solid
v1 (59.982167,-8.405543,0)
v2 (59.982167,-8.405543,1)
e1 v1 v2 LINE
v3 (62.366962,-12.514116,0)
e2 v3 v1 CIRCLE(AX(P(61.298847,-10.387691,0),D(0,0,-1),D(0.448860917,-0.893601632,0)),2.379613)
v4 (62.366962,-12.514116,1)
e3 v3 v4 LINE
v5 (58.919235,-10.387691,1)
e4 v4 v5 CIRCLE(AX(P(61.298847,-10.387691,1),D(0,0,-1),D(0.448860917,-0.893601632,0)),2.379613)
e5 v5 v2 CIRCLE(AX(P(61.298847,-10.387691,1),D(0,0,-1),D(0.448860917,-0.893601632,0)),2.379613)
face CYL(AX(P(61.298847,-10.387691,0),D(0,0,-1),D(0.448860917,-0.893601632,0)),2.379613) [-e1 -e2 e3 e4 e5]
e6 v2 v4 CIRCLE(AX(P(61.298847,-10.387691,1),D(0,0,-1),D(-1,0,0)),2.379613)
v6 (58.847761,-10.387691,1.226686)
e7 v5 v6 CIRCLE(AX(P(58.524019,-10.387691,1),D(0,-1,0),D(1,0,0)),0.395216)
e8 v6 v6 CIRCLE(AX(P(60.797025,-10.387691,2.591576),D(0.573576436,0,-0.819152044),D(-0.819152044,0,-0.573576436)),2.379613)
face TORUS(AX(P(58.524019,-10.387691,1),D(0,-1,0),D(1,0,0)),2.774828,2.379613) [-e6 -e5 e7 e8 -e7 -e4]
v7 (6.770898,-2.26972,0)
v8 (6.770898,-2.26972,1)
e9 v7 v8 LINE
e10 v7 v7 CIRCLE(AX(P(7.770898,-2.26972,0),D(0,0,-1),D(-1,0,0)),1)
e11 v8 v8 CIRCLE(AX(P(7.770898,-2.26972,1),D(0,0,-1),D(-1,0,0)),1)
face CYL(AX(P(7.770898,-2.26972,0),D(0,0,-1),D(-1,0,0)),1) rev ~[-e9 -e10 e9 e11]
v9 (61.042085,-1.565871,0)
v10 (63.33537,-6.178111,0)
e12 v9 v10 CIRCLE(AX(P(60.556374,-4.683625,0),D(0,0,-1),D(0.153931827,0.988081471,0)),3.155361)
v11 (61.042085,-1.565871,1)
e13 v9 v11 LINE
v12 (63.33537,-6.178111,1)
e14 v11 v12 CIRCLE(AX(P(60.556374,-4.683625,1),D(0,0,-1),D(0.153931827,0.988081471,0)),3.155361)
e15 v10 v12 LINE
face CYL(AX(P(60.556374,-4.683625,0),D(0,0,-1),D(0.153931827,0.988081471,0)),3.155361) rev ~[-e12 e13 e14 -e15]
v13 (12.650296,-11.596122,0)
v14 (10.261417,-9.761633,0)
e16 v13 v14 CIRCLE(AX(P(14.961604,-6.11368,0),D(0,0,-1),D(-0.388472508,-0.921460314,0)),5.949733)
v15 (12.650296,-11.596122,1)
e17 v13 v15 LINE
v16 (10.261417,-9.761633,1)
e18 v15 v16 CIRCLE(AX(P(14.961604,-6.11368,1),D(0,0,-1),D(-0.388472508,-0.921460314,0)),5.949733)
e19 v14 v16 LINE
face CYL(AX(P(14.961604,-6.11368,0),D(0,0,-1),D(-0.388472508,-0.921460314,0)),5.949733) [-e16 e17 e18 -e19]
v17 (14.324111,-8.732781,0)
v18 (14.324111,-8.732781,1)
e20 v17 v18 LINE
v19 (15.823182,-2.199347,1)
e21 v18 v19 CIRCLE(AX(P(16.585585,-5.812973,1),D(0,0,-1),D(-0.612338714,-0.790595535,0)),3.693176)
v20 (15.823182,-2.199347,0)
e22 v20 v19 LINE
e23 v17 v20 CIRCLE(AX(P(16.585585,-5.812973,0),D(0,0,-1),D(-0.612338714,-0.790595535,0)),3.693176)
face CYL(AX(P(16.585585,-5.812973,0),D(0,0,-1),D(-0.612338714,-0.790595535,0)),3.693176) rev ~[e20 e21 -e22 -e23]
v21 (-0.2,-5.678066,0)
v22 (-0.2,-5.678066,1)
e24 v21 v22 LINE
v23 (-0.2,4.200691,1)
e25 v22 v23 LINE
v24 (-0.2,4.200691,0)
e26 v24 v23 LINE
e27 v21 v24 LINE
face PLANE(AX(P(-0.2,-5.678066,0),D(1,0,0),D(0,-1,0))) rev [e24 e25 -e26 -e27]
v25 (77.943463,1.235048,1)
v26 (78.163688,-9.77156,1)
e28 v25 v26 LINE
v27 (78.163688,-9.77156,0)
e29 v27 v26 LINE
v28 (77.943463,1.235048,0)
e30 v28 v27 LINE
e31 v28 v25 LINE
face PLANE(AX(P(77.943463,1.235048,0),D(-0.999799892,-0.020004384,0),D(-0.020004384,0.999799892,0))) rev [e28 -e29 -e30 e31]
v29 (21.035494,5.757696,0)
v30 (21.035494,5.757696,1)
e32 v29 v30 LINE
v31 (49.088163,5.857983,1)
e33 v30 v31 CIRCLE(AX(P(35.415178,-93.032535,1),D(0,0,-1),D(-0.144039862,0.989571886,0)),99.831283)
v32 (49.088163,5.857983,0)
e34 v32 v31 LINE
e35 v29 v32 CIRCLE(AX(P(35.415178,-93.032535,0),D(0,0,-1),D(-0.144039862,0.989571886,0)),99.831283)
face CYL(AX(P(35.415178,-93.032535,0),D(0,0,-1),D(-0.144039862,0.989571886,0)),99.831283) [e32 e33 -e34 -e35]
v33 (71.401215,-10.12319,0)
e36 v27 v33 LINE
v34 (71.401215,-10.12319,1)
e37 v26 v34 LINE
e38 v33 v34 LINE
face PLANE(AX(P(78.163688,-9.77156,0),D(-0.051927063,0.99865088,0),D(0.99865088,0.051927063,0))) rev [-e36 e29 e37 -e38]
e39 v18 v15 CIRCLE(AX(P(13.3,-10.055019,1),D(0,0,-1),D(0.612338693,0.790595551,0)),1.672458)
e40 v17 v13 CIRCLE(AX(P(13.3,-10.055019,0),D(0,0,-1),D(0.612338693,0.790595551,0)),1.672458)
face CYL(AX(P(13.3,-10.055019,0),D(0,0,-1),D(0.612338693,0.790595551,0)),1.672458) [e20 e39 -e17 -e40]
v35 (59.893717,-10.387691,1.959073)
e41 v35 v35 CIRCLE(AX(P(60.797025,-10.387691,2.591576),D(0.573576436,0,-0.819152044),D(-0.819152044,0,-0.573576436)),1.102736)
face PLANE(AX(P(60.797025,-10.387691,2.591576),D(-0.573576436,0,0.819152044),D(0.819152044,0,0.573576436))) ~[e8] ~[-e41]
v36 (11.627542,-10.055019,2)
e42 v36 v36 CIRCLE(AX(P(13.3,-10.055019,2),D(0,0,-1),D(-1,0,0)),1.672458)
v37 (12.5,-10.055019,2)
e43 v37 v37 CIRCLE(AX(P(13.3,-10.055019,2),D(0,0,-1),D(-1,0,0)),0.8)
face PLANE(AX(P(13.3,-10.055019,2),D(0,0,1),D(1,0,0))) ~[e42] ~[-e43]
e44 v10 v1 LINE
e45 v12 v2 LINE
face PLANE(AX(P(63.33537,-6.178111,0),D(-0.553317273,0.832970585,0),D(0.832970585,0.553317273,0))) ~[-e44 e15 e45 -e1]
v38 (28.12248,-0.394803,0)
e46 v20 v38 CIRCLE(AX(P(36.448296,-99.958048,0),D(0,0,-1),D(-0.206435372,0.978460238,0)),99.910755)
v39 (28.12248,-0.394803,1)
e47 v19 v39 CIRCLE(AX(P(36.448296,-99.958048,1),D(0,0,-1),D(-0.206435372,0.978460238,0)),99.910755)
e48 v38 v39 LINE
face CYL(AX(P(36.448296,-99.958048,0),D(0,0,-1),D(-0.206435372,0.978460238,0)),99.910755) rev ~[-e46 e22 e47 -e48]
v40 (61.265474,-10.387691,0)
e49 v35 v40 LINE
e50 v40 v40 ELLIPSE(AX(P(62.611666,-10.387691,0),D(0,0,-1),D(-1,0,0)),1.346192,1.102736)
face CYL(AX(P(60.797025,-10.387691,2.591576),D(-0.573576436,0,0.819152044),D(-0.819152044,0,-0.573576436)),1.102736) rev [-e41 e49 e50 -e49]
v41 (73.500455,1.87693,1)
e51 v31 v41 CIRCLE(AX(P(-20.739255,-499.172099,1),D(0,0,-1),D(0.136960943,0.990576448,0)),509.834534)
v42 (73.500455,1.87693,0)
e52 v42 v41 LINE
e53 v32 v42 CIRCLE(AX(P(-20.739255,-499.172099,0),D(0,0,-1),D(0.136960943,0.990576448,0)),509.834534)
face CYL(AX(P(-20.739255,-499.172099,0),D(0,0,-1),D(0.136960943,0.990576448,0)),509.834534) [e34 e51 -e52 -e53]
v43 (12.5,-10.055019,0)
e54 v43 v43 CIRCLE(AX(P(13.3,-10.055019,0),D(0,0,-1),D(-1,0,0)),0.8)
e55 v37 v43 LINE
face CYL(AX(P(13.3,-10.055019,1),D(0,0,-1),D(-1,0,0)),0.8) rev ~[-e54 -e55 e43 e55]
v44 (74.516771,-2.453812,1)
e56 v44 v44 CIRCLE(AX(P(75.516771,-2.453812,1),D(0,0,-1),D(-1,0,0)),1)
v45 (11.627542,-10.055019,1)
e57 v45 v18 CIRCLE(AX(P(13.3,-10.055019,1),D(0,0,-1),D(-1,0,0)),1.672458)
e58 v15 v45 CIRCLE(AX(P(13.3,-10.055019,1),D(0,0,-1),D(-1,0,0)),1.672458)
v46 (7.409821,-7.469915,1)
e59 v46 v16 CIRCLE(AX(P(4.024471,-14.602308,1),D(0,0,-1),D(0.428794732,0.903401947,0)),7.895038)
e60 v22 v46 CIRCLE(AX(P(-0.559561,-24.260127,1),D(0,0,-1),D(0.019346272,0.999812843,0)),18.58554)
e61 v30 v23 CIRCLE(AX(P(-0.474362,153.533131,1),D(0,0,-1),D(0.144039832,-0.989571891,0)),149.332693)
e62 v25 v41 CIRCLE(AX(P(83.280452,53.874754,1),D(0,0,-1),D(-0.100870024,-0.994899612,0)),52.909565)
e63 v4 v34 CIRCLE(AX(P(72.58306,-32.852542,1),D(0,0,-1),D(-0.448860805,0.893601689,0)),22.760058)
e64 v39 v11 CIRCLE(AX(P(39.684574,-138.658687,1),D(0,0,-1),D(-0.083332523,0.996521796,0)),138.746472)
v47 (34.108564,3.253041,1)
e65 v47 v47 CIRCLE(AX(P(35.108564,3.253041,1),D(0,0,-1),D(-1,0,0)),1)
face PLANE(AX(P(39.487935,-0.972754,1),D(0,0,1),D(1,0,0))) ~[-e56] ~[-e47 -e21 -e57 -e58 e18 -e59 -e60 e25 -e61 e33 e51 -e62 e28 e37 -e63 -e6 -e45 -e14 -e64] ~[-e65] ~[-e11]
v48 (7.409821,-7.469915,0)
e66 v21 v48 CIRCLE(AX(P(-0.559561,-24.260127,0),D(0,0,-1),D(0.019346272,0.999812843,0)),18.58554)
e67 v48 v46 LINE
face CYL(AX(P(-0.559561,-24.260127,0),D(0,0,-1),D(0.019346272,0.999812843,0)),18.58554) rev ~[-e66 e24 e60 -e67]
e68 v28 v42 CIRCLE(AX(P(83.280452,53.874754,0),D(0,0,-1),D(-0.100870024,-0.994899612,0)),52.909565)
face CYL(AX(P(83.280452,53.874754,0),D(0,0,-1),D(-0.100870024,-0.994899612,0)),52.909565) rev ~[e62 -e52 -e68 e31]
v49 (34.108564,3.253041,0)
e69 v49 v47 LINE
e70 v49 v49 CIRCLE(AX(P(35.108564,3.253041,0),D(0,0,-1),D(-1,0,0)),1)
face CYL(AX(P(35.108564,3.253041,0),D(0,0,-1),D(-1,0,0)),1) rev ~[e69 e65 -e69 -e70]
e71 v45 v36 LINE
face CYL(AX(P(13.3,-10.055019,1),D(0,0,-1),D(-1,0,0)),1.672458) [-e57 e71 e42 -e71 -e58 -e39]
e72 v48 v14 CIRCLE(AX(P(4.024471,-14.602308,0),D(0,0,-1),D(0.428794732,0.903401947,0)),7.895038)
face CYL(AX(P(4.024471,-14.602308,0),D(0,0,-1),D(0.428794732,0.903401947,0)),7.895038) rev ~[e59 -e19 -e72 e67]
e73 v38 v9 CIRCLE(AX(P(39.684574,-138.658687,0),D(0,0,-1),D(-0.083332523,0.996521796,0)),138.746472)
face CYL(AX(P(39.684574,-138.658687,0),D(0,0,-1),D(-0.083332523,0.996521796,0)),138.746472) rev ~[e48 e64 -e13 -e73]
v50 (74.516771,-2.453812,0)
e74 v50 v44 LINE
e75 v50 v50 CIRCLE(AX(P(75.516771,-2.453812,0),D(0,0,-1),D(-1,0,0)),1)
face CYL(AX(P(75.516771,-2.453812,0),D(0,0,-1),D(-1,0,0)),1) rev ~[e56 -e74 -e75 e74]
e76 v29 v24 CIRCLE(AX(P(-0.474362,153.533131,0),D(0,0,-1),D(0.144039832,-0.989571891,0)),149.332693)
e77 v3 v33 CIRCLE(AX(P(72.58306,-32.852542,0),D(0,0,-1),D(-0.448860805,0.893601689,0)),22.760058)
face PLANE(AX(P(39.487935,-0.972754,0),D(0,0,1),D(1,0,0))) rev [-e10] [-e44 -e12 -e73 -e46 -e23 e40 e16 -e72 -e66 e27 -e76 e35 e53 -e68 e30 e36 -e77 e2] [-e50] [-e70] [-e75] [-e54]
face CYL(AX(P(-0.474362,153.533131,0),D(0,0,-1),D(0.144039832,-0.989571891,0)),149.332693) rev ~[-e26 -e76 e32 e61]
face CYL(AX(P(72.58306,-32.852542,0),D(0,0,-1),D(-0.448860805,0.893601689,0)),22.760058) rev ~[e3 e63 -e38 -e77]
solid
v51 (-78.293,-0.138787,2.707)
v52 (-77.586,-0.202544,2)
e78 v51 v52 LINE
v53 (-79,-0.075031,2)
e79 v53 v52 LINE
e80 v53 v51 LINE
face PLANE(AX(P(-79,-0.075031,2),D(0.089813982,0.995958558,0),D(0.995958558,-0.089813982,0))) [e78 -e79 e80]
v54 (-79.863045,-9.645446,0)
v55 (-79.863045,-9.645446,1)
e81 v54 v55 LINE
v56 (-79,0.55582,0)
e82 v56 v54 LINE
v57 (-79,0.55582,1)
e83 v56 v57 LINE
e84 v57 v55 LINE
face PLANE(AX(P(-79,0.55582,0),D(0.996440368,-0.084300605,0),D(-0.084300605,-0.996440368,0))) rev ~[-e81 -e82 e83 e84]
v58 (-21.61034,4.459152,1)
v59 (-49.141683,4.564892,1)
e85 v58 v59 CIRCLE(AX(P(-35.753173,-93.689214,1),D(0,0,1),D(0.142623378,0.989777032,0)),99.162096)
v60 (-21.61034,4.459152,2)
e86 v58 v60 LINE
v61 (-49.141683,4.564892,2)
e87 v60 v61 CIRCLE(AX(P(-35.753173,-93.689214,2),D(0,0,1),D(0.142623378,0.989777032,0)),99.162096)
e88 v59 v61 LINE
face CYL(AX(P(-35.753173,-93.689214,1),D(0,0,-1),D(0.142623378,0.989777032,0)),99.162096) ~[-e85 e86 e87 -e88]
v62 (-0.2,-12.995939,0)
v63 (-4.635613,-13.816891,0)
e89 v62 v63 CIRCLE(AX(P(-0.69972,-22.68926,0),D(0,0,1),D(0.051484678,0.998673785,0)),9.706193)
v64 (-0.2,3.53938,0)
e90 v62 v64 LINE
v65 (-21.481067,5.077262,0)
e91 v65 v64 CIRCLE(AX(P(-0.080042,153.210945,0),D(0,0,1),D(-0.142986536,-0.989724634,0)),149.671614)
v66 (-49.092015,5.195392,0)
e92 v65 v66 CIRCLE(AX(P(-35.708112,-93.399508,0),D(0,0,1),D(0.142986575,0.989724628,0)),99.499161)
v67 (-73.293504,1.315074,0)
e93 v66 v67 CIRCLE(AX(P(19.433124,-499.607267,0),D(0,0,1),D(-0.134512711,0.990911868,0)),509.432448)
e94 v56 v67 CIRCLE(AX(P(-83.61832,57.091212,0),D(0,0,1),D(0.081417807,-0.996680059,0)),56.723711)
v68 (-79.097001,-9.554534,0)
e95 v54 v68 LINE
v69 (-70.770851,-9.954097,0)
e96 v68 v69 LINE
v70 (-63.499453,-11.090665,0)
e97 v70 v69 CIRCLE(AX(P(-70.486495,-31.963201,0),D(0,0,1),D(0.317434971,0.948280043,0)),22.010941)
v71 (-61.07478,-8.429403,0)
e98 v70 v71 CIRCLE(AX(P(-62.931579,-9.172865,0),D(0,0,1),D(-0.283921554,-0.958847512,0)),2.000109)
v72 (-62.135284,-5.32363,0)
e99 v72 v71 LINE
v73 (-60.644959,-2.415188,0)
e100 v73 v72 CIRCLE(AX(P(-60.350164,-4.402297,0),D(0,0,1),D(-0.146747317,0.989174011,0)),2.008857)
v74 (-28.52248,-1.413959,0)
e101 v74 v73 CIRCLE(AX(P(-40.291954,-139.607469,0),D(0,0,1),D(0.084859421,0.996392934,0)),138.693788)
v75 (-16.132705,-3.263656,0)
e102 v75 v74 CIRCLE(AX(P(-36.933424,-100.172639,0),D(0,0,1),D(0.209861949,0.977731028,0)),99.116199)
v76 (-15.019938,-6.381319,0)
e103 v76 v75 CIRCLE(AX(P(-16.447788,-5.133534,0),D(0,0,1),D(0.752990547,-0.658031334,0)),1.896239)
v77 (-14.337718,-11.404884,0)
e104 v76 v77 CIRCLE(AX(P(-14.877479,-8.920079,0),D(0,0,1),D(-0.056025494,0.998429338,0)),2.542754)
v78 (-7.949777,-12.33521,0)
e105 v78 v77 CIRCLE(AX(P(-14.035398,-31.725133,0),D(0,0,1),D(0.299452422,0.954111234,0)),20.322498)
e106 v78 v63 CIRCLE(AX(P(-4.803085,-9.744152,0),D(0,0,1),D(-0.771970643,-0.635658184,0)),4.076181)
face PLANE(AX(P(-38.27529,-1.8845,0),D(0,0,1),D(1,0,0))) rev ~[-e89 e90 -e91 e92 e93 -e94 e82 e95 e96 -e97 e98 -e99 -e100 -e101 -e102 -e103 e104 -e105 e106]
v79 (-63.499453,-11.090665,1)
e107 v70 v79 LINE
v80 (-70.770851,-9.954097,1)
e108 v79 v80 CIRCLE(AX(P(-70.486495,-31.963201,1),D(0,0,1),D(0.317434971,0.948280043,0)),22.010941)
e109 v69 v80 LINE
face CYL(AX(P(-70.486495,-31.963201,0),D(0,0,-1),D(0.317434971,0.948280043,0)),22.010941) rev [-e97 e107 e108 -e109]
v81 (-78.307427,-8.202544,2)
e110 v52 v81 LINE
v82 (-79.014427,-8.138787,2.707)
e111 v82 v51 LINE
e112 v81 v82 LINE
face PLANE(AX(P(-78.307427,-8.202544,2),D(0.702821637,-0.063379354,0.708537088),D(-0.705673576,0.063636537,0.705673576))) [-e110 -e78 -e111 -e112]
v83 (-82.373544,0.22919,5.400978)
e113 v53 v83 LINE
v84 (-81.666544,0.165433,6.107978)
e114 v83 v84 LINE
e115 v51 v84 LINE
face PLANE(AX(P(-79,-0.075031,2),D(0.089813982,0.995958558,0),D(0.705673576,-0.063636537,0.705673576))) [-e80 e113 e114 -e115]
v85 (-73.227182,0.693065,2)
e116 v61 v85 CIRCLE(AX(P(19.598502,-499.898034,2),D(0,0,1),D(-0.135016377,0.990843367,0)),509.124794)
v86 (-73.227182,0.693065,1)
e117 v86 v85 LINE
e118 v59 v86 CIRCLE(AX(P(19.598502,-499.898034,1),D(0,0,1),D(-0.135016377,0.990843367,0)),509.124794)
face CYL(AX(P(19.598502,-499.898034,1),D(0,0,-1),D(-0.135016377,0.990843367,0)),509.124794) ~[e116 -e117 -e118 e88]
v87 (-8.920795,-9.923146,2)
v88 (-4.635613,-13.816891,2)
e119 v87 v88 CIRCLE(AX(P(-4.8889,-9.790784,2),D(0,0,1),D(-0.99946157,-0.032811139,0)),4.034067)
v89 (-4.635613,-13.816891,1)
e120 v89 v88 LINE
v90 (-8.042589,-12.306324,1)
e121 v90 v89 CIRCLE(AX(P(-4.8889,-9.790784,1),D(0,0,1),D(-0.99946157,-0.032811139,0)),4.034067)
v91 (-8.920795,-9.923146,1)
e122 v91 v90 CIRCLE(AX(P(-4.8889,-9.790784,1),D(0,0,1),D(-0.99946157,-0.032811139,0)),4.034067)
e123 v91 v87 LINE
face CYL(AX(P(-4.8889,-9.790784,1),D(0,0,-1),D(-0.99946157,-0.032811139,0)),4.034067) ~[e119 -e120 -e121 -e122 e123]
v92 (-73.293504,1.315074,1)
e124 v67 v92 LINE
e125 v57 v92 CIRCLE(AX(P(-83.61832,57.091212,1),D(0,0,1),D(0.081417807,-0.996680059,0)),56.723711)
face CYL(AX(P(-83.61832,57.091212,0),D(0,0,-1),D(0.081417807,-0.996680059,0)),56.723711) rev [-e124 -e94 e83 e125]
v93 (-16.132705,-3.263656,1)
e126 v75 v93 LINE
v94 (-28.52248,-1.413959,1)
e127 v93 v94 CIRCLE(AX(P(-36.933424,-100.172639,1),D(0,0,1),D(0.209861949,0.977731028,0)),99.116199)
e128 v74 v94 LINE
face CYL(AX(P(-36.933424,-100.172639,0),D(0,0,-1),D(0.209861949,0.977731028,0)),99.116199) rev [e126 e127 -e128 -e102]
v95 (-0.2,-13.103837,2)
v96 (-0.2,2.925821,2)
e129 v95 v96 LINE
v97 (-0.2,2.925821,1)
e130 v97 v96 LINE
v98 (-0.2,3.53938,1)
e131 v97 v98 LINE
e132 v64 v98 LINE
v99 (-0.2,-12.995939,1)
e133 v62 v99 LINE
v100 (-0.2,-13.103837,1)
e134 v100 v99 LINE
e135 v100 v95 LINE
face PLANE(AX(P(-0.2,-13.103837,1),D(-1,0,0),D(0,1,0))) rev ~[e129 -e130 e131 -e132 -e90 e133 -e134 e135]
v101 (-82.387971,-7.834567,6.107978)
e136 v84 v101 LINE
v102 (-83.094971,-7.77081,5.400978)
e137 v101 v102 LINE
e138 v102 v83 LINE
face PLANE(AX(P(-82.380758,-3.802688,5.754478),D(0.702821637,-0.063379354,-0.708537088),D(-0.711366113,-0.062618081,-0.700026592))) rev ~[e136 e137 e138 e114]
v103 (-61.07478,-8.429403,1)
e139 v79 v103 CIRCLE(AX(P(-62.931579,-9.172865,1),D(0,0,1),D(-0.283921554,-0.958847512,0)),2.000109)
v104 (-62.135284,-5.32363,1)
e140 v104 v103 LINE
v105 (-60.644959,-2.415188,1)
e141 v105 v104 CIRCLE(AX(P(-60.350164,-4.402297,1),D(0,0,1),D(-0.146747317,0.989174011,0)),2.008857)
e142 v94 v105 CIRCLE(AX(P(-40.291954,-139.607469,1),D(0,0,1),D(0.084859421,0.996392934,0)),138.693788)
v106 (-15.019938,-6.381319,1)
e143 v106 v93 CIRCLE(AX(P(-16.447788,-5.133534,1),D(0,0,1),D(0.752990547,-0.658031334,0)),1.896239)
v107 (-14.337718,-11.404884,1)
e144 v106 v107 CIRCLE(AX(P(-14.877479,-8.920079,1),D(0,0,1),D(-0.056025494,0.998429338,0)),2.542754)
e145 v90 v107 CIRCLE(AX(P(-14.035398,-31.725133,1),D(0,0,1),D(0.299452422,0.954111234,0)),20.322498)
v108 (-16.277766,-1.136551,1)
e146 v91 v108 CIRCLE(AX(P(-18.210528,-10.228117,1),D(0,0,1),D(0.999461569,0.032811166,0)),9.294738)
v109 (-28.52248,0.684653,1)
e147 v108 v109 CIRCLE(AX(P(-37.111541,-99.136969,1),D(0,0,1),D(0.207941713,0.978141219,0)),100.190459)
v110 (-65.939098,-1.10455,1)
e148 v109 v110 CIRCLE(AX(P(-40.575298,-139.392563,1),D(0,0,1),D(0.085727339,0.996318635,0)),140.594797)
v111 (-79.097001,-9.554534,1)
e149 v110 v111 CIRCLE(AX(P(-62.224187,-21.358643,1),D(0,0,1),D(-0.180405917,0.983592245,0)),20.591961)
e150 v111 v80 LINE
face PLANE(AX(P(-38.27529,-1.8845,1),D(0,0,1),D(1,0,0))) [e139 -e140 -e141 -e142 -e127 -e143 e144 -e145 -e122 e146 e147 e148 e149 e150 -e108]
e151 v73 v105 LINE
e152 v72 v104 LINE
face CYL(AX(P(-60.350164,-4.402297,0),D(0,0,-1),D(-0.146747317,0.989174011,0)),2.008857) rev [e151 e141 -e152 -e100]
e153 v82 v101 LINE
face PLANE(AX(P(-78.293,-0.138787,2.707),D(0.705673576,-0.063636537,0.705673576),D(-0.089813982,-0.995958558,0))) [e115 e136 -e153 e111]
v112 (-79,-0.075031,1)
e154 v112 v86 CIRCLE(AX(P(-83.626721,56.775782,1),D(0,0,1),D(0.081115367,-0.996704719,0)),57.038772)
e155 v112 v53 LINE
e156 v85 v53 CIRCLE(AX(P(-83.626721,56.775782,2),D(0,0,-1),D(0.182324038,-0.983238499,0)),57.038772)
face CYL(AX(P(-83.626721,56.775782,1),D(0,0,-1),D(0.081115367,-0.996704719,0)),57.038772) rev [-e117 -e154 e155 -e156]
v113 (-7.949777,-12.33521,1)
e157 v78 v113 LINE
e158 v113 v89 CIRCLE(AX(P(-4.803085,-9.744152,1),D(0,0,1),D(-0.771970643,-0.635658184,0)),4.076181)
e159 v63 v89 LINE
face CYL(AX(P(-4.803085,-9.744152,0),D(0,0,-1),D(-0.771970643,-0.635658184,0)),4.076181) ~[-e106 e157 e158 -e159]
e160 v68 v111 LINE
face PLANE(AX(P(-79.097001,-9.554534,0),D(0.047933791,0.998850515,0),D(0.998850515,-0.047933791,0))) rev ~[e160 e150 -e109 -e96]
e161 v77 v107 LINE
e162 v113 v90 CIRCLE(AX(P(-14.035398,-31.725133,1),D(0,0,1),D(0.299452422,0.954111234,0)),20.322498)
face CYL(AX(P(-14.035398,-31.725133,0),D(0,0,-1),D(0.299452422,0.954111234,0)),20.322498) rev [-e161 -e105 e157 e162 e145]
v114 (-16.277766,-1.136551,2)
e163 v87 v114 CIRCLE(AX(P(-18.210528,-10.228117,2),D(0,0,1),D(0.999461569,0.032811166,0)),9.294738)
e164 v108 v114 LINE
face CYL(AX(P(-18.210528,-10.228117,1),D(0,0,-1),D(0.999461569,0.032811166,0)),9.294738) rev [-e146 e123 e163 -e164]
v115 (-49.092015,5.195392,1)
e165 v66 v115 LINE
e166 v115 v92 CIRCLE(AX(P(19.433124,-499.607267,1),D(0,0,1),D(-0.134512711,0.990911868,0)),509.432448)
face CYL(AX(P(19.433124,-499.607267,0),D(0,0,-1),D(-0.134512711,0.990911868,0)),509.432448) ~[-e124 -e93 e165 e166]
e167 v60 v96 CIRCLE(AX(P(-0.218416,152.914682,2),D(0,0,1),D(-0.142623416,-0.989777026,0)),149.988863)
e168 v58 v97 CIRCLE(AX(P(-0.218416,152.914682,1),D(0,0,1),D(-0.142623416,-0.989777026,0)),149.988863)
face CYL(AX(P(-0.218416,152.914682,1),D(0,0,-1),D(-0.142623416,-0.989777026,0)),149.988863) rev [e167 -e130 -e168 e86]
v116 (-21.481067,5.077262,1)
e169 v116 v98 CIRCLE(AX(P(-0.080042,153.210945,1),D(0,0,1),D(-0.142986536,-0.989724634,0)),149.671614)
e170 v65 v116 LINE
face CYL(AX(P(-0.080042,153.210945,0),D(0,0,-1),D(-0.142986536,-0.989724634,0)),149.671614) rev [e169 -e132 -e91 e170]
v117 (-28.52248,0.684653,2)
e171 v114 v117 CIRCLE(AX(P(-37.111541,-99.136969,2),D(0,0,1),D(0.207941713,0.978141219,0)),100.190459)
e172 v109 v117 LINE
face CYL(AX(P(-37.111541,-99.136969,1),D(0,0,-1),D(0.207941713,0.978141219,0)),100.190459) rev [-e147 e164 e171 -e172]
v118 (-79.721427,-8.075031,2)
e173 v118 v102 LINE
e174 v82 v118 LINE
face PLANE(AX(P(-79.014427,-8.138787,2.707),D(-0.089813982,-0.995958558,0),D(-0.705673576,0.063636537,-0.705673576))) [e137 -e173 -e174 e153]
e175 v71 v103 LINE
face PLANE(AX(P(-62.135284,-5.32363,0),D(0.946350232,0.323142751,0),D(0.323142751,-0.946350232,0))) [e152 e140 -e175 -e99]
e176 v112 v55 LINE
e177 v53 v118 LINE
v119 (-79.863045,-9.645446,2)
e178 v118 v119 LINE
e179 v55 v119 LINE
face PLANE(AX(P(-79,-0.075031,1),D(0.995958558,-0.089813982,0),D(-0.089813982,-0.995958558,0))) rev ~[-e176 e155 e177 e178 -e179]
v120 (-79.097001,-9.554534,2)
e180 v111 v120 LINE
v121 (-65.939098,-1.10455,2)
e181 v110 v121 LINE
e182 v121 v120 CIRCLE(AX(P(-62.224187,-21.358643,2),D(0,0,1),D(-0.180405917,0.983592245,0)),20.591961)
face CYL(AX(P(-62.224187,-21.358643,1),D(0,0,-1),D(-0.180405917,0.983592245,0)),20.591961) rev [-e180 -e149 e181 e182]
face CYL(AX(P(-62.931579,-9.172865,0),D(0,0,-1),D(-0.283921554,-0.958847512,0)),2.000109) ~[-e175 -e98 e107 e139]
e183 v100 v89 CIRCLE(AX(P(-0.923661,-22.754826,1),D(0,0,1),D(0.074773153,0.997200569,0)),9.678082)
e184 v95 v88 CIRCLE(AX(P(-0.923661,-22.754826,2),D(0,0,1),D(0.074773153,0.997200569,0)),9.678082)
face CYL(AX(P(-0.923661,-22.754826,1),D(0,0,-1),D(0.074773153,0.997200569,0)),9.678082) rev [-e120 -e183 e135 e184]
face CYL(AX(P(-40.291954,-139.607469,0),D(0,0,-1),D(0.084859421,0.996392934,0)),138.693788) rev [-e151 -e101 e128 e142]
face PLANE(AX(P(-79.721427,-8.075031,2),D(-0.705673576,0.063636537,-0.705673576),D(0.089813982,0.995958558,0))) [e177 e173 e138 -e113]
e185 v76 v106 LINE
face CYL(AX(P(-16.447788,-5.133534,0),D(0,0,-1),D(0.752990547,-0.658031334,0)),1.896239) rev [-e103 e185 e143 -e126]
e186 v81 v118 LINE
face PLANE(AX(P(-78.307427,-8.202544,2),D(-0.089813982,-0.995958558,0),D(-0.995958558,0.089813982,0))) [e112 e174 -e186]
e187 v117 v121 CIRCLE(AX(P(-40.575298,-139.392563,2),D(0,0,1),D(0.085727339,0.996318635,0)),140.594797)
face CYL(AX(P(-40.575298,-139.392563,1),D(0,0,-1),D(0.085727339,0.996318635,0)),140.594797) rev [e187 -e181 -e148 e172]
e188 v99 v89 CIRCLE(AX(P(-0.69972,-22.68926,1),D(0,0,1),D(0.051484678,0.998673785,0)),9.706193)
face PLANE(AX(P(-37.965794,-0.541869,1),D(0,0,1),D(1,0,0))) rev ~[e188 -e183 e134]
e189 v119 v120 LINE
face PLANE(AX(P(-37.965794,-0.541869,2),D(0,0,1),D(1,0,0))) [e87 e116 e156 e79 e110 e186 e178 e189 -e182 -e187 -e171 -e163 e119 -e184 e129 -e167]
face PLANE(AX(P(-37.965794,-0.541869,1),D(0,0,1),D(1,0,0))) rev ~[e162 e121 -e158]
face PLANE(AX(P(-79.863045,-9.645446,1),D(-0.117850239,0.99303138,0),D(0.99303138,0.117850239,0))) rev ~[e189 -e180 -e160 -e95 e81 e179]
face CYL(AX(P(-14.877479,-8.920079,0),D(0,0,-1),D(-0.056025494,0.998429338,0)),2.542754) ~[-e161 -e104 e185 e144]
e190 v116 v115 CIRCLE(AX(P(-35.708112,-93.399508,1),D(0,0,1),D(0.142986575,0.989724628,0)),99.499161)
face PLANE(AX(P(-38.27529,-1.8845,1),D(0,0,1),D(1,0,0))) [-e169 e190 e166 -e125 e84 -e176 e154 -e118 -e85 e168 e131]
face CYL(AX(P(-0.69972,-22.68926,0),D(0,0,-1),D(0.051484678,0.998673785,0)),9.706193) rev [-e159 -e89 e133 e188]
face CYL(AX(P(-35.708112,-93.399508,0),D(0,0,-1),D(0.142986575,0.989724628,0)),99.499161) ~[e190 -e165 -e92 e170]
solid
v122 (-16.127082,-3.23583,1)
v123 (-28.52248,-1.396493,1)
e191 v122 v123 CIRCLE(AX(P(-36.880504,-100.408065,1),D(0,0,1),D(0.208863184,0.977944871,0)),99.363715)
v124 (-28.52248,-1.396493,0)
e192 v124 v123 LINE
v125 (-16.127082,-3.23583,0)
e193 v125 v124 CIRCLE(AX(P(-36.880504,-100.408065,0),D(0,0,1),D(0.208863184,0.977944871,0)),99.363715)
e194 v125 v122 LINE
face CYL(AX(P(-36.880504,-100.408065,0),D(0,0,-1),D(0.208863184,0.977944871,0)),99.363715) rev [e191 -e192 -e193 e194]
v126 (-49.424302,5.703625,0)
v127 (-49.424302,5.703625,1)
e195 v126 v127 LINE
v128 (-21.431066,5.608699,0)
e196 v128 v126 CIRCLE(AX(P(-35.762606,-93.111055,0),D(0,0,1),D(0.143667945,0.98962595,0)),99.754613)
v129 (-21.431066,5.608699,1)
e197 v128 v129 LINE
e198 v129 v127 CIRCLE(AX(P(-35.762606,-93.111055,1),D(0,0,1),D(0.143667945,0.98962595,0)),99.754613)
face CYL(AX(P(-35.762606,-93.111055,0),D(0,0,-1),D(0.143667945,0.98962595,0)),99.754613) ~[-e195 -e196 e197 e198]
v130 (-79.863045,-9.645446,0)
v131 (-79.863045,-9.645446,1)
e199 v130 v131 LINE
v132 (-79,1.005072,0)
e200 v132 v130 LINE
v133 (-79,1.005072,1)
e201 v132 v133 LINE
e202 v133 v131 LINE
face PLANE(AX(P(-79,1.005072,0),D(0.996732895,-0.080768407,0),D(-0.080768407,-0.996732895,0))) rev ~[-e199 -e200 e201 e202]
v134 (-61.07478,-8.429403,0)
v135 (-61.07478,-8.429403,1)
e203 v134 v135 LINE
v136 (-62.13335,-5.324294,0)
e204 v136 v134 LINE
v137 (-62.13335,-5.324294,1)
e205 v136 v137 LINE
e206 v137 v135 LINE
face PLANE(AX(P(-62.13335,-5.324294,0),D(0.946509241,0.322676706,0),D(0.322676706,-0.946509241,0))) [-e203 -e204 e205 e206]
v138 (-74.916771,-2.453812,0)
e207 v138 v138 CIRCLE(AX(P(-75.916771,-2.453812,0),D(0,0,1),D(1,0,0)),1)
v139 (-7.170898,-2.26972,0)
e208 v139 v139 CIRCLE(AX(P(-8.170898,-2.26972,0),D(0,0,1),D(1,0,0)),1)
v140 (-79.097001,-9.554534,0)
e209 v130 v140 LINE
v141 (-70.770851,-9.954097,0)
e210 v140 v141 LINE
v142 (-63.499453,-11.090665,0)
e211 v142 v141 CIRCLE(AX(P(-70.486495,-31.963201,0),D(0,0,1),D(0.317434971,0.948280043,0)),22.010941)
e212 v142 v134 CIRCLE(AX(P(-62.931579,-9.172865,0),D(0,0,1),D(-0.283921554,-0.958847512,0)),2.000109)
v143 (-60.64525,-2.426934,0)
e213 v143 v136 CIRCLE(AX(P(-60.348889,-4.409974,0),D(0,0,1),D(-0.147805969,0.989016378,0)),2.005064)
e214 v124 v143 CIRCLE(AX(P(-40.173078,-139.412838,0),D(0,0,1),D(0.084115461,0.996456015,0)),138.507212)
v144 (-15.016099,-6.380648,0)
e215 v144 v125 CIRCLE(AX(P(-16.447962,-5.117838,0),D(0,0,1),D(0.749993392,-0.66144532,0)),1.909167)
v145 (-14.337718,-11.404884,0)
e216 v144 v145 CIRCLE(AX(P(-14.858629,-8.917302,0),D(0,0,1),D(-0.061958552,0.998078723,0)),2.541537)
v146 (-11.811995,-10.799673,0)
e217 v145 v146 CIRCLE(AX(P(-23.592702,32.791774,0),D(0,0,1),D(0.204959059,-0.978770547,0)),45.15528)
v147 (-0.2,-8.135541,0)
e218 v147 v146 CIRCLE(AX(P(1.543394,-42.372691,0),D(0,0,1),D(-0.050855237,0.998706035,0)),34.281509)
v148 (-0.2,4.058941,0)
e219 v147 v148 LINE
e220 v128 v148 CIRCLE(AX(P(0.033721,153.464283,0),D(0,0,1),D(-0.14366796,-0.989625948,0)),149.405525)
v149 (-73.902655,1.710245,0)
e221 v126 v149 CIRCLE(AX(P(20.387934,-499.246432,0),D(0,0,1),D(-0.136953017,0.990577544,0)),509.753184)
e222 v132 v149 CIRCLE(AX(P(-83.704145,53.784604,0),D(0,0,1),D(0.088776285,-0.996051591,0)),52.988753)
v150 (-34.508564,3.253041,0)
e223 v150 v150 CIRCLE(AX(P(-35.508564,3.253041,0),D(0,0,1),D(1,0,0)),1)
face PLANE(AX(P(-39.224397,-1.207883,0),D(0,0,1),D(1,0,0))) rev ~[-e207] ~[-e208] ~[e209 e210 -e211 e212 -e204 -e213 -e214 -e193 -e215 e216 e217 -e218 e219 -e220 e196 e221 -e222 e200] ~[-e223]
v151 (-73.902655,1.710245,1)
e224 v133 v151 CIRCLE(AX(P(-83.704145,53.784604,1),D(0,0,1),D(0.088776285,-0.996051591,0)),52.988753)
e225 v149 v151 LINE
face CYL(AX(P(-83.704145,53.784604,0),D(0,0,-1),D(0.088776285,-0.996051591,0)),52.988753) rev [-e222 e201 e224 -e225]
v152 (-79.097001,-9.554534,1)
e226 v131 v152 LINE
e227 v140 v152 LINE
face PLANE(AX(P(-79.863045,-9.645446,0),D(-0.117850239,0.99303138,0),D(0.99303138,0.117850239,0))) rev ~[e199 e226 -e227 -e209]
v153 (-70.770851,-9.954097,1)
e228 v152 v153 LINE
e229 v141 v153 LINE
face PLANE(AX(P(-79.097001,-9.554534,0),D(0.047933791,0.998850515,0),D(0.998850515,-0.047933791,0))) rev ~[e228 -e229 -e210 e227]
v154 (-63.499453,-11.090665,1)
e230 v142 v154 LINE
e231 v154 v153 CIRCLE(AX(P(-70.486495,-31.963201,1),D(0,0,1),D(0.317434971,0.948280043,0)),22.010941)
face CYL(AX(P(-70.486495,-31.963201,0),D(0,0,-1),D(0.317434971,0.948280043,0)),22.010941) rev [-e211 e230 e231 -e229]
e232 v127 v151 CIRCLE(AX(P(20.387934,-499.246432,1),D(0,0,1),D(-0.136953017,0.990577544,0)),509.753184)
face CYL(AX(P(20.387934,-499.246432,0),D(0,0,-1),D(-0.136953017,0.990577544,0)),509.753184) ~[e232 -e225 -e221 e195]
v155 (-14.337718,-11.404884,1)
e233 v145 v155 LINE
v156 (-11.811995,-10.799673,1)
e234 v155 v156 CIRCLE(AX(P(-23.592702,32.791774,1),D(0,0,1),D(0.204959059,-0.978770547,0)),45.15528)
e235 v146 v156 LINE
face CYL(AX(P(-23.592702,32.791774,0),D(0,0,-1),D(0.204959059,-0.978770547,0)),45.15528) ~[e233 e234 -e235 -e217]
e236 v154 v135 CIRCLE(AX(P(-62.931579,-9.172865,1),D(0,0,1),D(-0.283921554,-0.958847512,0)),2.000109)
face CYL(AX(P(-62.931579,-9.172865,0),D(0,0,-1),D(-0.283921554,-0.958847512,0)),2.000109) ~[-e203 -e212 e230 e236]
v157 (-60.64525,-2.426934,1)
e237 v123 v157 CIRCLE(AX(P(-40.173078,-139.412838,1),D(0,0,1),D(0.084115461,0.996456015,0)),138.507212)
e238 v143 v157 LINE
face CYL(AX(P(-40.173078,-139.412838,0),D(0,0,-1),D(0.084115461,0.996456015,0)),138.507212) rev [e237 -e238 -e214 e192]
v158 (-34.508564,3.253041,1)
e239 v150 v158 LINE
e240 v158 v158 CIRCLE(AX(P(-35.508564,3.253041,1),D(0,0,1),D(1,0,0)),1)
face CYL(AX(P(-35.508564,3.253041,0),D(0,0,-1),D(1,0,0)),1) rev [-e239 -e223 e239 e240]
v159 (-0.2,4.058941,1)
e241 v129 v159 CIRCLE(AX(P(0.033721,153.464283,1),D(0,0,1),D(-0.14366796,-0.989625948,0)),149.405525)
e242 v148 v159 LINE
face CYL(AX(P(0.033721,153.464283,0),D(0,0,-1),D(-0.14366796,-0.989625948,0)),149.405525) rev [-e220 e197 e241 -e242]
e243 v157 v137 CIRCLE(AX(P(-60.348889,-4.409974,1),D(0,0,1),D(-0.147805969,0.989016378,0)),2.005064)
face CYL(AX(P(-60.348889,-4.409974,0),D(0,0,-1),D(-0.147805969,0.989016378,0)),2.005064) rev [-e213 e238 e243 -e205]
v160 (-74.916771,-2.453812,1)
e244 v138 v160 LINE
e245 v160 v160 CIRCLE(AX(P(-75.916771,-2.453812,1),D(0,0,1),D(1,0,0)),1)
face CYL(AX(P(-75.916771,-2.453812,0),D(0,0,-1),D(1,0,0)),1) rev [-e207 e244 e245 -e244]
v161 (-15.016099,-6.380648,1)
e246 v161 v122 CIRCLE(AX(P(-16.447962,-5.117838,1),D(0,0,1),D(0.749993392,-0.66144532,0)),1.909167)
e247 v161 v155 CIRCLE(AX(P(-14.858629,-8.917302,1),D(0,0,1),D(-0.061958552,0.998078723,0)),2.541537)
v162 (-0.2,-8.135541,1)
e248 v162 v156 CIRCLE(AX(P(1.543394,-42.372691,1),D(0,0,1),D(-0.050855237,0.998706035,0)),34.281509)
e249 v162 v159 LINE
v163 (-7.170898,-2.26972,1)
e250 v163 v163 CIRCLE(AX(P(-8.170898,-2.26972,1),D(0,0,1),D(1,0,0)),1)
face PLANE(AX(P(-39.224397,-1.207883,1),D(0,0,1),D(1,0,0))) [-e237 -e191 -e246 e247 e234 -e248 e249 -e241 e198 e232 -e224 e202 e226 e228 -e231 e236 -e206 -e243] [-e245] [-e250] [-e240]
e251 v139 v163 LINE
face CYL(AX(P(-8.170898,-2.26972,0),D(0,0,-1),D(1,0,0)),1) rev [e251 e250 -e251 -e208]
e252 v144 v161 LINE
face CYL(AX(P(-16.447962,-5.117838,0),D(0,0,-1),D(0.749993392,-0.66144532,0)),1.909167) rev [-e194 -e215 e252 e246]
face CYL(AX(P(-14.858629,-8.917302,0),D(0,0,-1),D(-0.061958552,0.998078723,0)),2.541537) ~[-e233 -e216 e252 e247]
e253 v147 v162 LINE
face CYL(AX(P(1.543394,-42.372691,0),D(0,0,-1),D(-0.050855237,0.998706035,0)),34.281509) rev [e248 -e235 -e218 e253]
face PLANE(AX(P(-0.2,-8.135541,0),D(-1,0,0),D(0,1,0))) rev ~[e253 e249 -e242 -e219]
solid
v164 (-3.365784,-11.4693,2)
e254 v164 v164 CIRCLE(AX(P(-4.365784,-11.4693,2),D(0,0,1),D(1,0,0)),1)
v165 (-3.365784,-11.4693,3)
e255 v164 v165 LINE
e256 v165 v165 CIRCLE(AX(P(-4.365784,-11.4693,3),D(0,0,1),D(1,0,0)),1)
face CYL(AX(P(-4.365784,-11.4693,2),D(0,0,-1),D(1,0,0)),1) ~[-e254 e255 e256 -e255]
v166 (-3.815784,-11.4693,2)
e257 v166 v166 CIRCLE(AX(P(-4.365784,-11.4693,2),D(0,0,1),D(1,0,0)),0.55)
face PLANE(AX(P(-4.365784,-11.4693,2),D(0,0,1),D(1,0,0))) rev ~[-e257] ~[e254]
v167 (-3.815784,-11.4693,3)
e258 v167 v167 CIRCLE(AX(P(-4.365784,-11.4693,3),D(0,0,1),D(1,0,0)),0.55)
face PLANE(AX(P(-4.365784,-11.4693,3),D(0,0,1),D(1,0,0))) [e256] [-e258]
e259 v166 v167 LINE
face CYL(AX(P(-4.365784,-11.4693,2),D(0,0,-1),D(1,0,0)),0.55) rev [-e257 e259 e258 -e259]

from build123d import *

# Parameters (mm, degrees)
SKETCH005_R      = 1
SKETCH005_R_2    = 0.55
PAD_DEPTH        = 1
PAD001_DEPTH     = 1
PAD002_DEPTH     = 1
PAD003_DEPTH     = 0.707
POCKET_DEPTH     = 21.2605344636
POCKET001_DEPTH  = 21.2605344636
PAD004_DEPTH     = 4.8
SKETCH009_R      = 1
PAD005_DEPTH     = 1
SKETCH010_R      = 1
SKETCH010_R_2    = 0.8
PAD006_DEPTH     = 1
SKETCH011_R      = 2.3796125114
REVOLUTION_ANGLE = -35
SKETCH012_R      = 1.102736
POCKET002_DEPTH  = 12.0850032326
SKETCH013_R      = 1.672457704
SKETCH013_R_2    = 0.8
PAD007_DEPTH     = 1


with BuildPart() as pad:
    # Sketch005 → Pad (new body)
    with BuildSketch(Plane.XY.offset(2)):
        with Locations((-4.365784, -11.4693)):
            Circle(SKETCH005_R)
        with Locations((-4.365784, -11.4693)):
            Circle(SKETCH005_R_2, mode=Mode.SUBTRACT)
    extrude(amount=PAD_DEPTH)


with BuildPart() as pad004:
    # Sketch002 → Pad001 (new body)
    with BuildSketch(Plane.XY):
        with BuildLine():
            ThreePointArc((-21.4810673527, 5.077262367), (-35.2824237225, 6.098742638), (-49.0920151852, 5.195391532))
            ThreePointArc((-49.0920151851, 5.195391532), (-61.2160997973, 3.4008059489), (-73.2935037161, 1.3150735407))
            ThreePointArc((-79, 0.5558197611), (-76.1371137421, 0.8630072719), (-73.293503716, 1.3150735407))
            Line((-79, 0.5558197611), (-79.863045, -9.645446))
            Line((-79.863045, -9.645446), (-79.097001, -9.554534))
            Line((-79.097001, -9.554534), (-70.770851, -9.9540972266))
            ThreePointArc((-63.4994527046, -11.0906652843), (-67.0873116229, -10.2163147951), (-70.770851, -9.9540972266))
            ThreePointArc((-63.4994527046, -11.0906652843), (-61.4530959676, -10.5199090608), (-61.07478, -8.429403))
            Line((-62.1352838954, -5.3236297613), (-61.07478, -8.429403))
            ThreePointArc((-60.644958831, -2.4151880117), (-62.1379756238, -3.4861982036), (-62.1352838954, -5.3236297613))
            ThreePointArc((-28.52248, -1.413958949), (-44.612817955, -0.9810036768), (-60.644958831, -2.4151880117))
            ThreePointArc((-16.1327051846, -3.2636561063), (-22.2983409455, -2.1428720386), (-28.52248, -1.413958949))
            ThreePointArc((-15.0199380454, -6.3813189746), (-14.6618963179, -4.496107664), (-16.1327051847, -3.2636561063))
            ThreePointArc((-15.0199380454, -6.3813189746), (-17.3971046924, -9.2622542342), (-14.3377180098, -11.4048840118))
            ThreePointArc((-7.9497768236, -12.3352095544), (-11.1065723822, -11.6147899689), (-14.3377180098, -11.4048840118))
            ThreePointArc((-7.9497768236, -12.3352095544), (-6.466750398, -13.4653703955), (-4.635613, -13.816891))
            ThreePointArc((-0.2000000001, -12.9959394508), (-2.4661603768, -13.1451585352), (-4.635613, -13.816891))
            Line((-0.2, -12.9959394508), (-0.2, 3.5393797871))
            ThreePointArc((-21.4810673528, 5.077262367), (-10.8679728403, 3.9286206354), (-0.2, 3.5393797871))
        make_face()
    extrude(amount=PAD001_DEPTH)

    # Sketch001 → Pad002 (new body)
    with BuildSketch(Plane.XY.offset(1)):
        with BuildLine():
            ThreePointArc((-21.610340187, 4.4591518714), (-35.3723241837, 5.4721514978), (-49.1416833232, 4.564891526))
            ThreePointArc((-49.1416833232, 4.564891526), (-61.2076256414, 2.7732562574), (-73.2271816585, 0.6930653731))
            ThreePointArc((-79, -0.0750313153), (-76.1037815418, 0.235292931), (-73.2271816587, 0.6930653731))
            Line((-79, -0.0750313153), (-79.863045, -9.645446))
            Line((-79.863045, -9.645446), (-79.097001, -9.554534))
            ThreePointArc((-65.939098349, -1.1045502089), (-73.3513683514, -4.0319389019), (-79.097001, -9.554534))
            ThreePointArc((-28.5224800001, 0.684653), (-47.2906442147, 1.0417667868), (-65.939098349, -1.1045502088))
            ThreePointArc((-16.2777656119, -1.1365507335), (-22.3719677016, -0.0366503249), (-28.52248, 0.684653))
            ThreePointArc((-8.9207948272, -9.9231462247), (-11.0840165369, -4.2611260649), (-16.2777656119, -1.1365507335))
            ThreePointArc((-8.9207948272, -9.9231462247), (-7.6017918075, -12.7764015624), (-4.635613, -13.816891))
            ThreePointArc((-0.2, -13.1038370526), (-2.4597541717, -13.1994249509), (-4.635613, -13.816891))
            Line((-0.2, -13.1038370526), (-0.2, 2.9258207519))
            ThreePointArc((-21.610340187, 4.4591518714), (-10.9326350171, 3.3089857429), (-0.2, 2.9258207519))
        make_face()
    extrude(amount=PAD002_DEPTH)

    # Sketch006 → Pad003 (new body)
    with BuildSketch(Plane.XY.offset(2)):
        Polygon((-79, -0.0750313153), (-77.586, -0.2025436196), (-78.3074274645, -8.2025436196), (-79.7214274645, -8.0750313153), align=None)
    extrude(amount=PAD003_DEPTH)

    # Sketch → Pocket (cut, through all)
    with BuildSketch(Plane(origin=(-1.3653966504, -15.1410553949, 0), x_dir=(0.9959585577, -0.0898139821, 0), z_dir=(-0.0898139821, -0.9959585577, 0))):
        Polygon((-78.6739871955, 2), (-78.6739871955, 2.707), (-77.9641183013, 2.707), align=None)
    extrude(amount=-POCKET_DEPTH, mode=Mode.SUBTRACT)

    # Sketch007 → Pocket001 (cut, through all)
    with BuildSketch(Plane(origin=(-1.3653966504, -15.1410553949, 0), x_dir=(0.9959585577, -0.0898139821, 0), z_dir=(-0.0898139821, -0.9959585577, 0))):
        Polygon((-77.9641183013, 2.707), (-77.2542494071, 2.707), (-77.2542494071, 2), align=None)
    extrude(amount=-POCKET001_DEPTH, mode=Mode.SUBTRACT)

    # Sketch008 → Pad004 (new body)
    with BuildSketch(Plane(origin=(-40.015310159, 3.6085179686, 40.3407206551), x_dir=(0.7113661132, 0.0626180815, 0.7000265916), z_dir=(-0.7028216367, 0.0633793539, 0.7085370876))):
        Polygon((-54.802568073, -0.2529234583), (-53.8087057187, -0.3794164131), (-54.8228494221, -8.3476012839), (-55.8167117765, -8.2211083291), align=None)
    extrude(amount=PAD004_DEPTH)


with BuildPart() as pad005:
    # Sketch009 → Pad005 (new body)
    with BuildSketch(Plane.XY):
        with BuildLine():
            ThreePointArc((-21.4310662567, 5.6086986839), (-35.4243377986, 6.6429844504), (-49.4243020267, 5.7036245056))
            ThreePointArc((-49.4243020269, 5.7036245055), (-61.6877693469, 3.8558307387), (-73.9026551863, 1.7102454008))
            ThreePointArc((-79, 1.0050715738), (-76.4427623579, 1.2957447355), (-73.9026551861, 1.7102454008))
            Line((-79, 1.0050715738), (-79.863045, -9.645446))
            Line((-79.863045, -9.645446), (-79.097001, -9.554534))
            Line((-79.097001, -9.554534), (-70.770851, -9.9540972266))
            ThreePointArc((-63.4994527046, -11.0906652843), (-67.0873116229, -10.2163147951), (-70.770851, -9.9540972266))
            ThreePointArc((-63.4994527046, -11.0906652843), (-61.4530959676, -10.5199090608), (-61.07478, -8.429403))
            Line((-62.133349891, -5.3242944908), (-61.07478, -8.429403))
            ThreePointArc((-60.6452498247, -2.4269337056), (-62.1324613439, -3.4939223661), (-62.133349891, -5.3242944908))
            ThreePointArc((-28.52248, -1.3964934559), (-44.6138541668, -0.9768336422), (-60.6452498247, -2.4269337057))
            ThreePointArc((-16.1270822695, -3.2358295285), (-22.2957565763, -2.1205632265), (-28.52248, -1.3964934559))
            ThreePointArc((-15.0160989785, -6.3806475729), (-14.6478238252, -4.4818955116), (-16.1270822694, -3.2358295285))
            ThreePointArc((-15.0160989785, -6.3806475729), (-17.3773112473, -9.2573787763), (-14.337718, -11.404884))
            ThreePointArc((-14.337718, -11.404884), (-13.0705043183, -11.1204414307), (-11.811995, -10.799673))
            ThreePointArc((-0.2, -8.1355406262), (-6.1226161929, -8.9593078665), (-11.811995, -10.799673))
            Line((-0.2, -8.1355406262), (-0.2, 4.0589408275))
            ThreePointArc((-21.4310662567, 5.6086986839), (-10.8431697555, 4.4552089551), (-0.2, 4.0589408275))
        make_face()
        with Locations((-8.170898, -2.26972)):
            Circle(SKETCH009_R, mode=Mode.SUBTRACT)
        with Locations((-75.916771, -2.453812)):
            Circle(SKETCH009_R, mode=Mode.SUBTRACT)
        with Locations((-35.508564, 3.253041)):
            Circle(SKETCH009_R, mode=Mode.SUBTRACT)
    extrude(amount=PAD005_DEPTH)


with BuildPart() as pad007:
    # Sketch010 → Pad006 (new body)
    with BuildSketch(Plane.XY):
        with BuildLine():
            ThreePointArc((-21.435493651, 5.757696159), (-35.4582882573, 6.7981102018), (-49.4881632007, 5.8579830687))
            ThreePointArc((-49.4881632006, 5.8579830687), (-61.718455406, 4.015524336), (-73.9004550198, 1.8769296985))
            ThreePointArc((-78.3434632234, 1.2350482005), (-76.1151484666, 1.5088466087), (-73.9004550199, 1.8769296985))
            Line((-78.3434632234, 1.2350482005), (-78.5636877074, -9.7715598515))
            Line((-78.5636877074, -9.7715598515), (-71.801214619, -10.1231896088))
            ThreePointArc((-62.7669622235, -12.5141161806), (-67.160053087, -10.8499783113), (-71.801214619, -10.1231896088))
            ThreePointArc((-62.7669622235, -12.5141161806), (-59.6408045973, -11.5822685042), (-60.3821667007, -8.4055431733))
            Line((-63.7353699368, -6.1781112542), (-60.3821667007, -8.4055431733))
            ThreePointArc((-61.4420848408, -1.5658707162), (-63.7817534342, -3.2787979749), (-63.7353699368, -6.1781112542))
            ThreePointArc((-28.5224799999, -0.3948032227), (-45.0171592764, 7.81848e-05), (-61.4420848408, -1.5658707162))
            ThreePointArc((-16.2231821186, -2.1993471053), (-22.3447385085, -1.1056037047), (-28.52248, -0.3948032226))
            ThreePointArc((-14.7241105649, -8.7327813805), (-13.385946369, -4.9870494537), (-16.2231821186, -2.1993471053))
            ThreePointArc((-14.7241105649, -8.7327813804), (-15.143857865, -10.8990505381), (-13.050296142, -11.5961223932))
            ThreePointArc((-13.050296142, -11.5961223932), (-11.7378486458, -10.8325481749), (-10.6614169513, -9.7616332276))
            ThreePointArc((-7.8098214017, -7.4699147616), (-9.3701903652, -8.4483264619), (-10.6614169513, -9.7616332276))
            ThreePointArc((-0.2, -5.6780658726), (-4.1001931215, -6.169334429), (-7.8098214017, -7.4699147616))
            Line((-0.2, -5.6780658726), (-0.2, 4.2006905502))
            ThreePointArc((-21.435493651, 5.757696159), (-10.8455327461, 4.6002302106), (-0.2000000001, 4.2006905502))
        make_face()
        with Locations((-8.170898, -2.26972)):
            Circle(SKETCH010_R, mode=Mode.SUBTRACT)
        with Locations((-75.916771, -2.453812)):
            Circle(SKETCH010_R, mode=Mode.SUBTRACT)
        with Locations((-35.508564, 3.253041)):
            Circle(SKETCH010_R, mode=Mode.SUBTRACT)
        with Locations((-13.7, -10.055019)):
            Circle(SKETCH010_R_2, mode=Mode.SUBTRACT)
    extrude(amount=PAD006_DEPTH)

    # Sketch011 → Revolution (revolve)
    with BuildSketch(Plane.XY.offset(1)):
        with Locations((-61.6988471699, -10.387690556)):
            Circle(SKETCH011_R)
    revolve(axis=Axis((-58.924019, -5.544946, 1), (0, -1, 0)), revolution_arc=REVOLUTION_ANGLE)

    # Sketch012 → Pocket002 (cut, through all)
    with BuildSketch(Plane(origin=(-18.9155624778, 0, -27.014222849), x_dir=(0.8191520443, 0, -0.5735764364), z_dir=(0.5735764364, 0, 0.8191520443))):
        with Locations((-51.6161352278, -10.387690556)):
            Circle(SKETCH012_R)
    extrude(amount=-POCKET002_DEPTH, mode=Mode.SUBTRACT)

    # Sketch013 → Pad007 (new body)
    with BuildSketch(Plane.XY.offset(1)):
        with Locations((-13.7, -10.055019)):
            Circle(SKETCH013_R)
        with Locations((-13.7, -10.055019)):
            Circle(SKETCH013_R_2, mode=Mode.SUBTRACT)
    extrude(amount=PAD007_DEPTH)


with BuildPart() as part_mirroring:
    # Part__Mirroring: instance of Pad007
    add(pad007.part.mirror(Plane(origin=(-0.2, 0, 0), x_dir=(0, -1, 0), z_dir=(1, 0, 0))))


solid = Compound([pad.part, pad004.part, pad005.part, part_mirroring.part])
